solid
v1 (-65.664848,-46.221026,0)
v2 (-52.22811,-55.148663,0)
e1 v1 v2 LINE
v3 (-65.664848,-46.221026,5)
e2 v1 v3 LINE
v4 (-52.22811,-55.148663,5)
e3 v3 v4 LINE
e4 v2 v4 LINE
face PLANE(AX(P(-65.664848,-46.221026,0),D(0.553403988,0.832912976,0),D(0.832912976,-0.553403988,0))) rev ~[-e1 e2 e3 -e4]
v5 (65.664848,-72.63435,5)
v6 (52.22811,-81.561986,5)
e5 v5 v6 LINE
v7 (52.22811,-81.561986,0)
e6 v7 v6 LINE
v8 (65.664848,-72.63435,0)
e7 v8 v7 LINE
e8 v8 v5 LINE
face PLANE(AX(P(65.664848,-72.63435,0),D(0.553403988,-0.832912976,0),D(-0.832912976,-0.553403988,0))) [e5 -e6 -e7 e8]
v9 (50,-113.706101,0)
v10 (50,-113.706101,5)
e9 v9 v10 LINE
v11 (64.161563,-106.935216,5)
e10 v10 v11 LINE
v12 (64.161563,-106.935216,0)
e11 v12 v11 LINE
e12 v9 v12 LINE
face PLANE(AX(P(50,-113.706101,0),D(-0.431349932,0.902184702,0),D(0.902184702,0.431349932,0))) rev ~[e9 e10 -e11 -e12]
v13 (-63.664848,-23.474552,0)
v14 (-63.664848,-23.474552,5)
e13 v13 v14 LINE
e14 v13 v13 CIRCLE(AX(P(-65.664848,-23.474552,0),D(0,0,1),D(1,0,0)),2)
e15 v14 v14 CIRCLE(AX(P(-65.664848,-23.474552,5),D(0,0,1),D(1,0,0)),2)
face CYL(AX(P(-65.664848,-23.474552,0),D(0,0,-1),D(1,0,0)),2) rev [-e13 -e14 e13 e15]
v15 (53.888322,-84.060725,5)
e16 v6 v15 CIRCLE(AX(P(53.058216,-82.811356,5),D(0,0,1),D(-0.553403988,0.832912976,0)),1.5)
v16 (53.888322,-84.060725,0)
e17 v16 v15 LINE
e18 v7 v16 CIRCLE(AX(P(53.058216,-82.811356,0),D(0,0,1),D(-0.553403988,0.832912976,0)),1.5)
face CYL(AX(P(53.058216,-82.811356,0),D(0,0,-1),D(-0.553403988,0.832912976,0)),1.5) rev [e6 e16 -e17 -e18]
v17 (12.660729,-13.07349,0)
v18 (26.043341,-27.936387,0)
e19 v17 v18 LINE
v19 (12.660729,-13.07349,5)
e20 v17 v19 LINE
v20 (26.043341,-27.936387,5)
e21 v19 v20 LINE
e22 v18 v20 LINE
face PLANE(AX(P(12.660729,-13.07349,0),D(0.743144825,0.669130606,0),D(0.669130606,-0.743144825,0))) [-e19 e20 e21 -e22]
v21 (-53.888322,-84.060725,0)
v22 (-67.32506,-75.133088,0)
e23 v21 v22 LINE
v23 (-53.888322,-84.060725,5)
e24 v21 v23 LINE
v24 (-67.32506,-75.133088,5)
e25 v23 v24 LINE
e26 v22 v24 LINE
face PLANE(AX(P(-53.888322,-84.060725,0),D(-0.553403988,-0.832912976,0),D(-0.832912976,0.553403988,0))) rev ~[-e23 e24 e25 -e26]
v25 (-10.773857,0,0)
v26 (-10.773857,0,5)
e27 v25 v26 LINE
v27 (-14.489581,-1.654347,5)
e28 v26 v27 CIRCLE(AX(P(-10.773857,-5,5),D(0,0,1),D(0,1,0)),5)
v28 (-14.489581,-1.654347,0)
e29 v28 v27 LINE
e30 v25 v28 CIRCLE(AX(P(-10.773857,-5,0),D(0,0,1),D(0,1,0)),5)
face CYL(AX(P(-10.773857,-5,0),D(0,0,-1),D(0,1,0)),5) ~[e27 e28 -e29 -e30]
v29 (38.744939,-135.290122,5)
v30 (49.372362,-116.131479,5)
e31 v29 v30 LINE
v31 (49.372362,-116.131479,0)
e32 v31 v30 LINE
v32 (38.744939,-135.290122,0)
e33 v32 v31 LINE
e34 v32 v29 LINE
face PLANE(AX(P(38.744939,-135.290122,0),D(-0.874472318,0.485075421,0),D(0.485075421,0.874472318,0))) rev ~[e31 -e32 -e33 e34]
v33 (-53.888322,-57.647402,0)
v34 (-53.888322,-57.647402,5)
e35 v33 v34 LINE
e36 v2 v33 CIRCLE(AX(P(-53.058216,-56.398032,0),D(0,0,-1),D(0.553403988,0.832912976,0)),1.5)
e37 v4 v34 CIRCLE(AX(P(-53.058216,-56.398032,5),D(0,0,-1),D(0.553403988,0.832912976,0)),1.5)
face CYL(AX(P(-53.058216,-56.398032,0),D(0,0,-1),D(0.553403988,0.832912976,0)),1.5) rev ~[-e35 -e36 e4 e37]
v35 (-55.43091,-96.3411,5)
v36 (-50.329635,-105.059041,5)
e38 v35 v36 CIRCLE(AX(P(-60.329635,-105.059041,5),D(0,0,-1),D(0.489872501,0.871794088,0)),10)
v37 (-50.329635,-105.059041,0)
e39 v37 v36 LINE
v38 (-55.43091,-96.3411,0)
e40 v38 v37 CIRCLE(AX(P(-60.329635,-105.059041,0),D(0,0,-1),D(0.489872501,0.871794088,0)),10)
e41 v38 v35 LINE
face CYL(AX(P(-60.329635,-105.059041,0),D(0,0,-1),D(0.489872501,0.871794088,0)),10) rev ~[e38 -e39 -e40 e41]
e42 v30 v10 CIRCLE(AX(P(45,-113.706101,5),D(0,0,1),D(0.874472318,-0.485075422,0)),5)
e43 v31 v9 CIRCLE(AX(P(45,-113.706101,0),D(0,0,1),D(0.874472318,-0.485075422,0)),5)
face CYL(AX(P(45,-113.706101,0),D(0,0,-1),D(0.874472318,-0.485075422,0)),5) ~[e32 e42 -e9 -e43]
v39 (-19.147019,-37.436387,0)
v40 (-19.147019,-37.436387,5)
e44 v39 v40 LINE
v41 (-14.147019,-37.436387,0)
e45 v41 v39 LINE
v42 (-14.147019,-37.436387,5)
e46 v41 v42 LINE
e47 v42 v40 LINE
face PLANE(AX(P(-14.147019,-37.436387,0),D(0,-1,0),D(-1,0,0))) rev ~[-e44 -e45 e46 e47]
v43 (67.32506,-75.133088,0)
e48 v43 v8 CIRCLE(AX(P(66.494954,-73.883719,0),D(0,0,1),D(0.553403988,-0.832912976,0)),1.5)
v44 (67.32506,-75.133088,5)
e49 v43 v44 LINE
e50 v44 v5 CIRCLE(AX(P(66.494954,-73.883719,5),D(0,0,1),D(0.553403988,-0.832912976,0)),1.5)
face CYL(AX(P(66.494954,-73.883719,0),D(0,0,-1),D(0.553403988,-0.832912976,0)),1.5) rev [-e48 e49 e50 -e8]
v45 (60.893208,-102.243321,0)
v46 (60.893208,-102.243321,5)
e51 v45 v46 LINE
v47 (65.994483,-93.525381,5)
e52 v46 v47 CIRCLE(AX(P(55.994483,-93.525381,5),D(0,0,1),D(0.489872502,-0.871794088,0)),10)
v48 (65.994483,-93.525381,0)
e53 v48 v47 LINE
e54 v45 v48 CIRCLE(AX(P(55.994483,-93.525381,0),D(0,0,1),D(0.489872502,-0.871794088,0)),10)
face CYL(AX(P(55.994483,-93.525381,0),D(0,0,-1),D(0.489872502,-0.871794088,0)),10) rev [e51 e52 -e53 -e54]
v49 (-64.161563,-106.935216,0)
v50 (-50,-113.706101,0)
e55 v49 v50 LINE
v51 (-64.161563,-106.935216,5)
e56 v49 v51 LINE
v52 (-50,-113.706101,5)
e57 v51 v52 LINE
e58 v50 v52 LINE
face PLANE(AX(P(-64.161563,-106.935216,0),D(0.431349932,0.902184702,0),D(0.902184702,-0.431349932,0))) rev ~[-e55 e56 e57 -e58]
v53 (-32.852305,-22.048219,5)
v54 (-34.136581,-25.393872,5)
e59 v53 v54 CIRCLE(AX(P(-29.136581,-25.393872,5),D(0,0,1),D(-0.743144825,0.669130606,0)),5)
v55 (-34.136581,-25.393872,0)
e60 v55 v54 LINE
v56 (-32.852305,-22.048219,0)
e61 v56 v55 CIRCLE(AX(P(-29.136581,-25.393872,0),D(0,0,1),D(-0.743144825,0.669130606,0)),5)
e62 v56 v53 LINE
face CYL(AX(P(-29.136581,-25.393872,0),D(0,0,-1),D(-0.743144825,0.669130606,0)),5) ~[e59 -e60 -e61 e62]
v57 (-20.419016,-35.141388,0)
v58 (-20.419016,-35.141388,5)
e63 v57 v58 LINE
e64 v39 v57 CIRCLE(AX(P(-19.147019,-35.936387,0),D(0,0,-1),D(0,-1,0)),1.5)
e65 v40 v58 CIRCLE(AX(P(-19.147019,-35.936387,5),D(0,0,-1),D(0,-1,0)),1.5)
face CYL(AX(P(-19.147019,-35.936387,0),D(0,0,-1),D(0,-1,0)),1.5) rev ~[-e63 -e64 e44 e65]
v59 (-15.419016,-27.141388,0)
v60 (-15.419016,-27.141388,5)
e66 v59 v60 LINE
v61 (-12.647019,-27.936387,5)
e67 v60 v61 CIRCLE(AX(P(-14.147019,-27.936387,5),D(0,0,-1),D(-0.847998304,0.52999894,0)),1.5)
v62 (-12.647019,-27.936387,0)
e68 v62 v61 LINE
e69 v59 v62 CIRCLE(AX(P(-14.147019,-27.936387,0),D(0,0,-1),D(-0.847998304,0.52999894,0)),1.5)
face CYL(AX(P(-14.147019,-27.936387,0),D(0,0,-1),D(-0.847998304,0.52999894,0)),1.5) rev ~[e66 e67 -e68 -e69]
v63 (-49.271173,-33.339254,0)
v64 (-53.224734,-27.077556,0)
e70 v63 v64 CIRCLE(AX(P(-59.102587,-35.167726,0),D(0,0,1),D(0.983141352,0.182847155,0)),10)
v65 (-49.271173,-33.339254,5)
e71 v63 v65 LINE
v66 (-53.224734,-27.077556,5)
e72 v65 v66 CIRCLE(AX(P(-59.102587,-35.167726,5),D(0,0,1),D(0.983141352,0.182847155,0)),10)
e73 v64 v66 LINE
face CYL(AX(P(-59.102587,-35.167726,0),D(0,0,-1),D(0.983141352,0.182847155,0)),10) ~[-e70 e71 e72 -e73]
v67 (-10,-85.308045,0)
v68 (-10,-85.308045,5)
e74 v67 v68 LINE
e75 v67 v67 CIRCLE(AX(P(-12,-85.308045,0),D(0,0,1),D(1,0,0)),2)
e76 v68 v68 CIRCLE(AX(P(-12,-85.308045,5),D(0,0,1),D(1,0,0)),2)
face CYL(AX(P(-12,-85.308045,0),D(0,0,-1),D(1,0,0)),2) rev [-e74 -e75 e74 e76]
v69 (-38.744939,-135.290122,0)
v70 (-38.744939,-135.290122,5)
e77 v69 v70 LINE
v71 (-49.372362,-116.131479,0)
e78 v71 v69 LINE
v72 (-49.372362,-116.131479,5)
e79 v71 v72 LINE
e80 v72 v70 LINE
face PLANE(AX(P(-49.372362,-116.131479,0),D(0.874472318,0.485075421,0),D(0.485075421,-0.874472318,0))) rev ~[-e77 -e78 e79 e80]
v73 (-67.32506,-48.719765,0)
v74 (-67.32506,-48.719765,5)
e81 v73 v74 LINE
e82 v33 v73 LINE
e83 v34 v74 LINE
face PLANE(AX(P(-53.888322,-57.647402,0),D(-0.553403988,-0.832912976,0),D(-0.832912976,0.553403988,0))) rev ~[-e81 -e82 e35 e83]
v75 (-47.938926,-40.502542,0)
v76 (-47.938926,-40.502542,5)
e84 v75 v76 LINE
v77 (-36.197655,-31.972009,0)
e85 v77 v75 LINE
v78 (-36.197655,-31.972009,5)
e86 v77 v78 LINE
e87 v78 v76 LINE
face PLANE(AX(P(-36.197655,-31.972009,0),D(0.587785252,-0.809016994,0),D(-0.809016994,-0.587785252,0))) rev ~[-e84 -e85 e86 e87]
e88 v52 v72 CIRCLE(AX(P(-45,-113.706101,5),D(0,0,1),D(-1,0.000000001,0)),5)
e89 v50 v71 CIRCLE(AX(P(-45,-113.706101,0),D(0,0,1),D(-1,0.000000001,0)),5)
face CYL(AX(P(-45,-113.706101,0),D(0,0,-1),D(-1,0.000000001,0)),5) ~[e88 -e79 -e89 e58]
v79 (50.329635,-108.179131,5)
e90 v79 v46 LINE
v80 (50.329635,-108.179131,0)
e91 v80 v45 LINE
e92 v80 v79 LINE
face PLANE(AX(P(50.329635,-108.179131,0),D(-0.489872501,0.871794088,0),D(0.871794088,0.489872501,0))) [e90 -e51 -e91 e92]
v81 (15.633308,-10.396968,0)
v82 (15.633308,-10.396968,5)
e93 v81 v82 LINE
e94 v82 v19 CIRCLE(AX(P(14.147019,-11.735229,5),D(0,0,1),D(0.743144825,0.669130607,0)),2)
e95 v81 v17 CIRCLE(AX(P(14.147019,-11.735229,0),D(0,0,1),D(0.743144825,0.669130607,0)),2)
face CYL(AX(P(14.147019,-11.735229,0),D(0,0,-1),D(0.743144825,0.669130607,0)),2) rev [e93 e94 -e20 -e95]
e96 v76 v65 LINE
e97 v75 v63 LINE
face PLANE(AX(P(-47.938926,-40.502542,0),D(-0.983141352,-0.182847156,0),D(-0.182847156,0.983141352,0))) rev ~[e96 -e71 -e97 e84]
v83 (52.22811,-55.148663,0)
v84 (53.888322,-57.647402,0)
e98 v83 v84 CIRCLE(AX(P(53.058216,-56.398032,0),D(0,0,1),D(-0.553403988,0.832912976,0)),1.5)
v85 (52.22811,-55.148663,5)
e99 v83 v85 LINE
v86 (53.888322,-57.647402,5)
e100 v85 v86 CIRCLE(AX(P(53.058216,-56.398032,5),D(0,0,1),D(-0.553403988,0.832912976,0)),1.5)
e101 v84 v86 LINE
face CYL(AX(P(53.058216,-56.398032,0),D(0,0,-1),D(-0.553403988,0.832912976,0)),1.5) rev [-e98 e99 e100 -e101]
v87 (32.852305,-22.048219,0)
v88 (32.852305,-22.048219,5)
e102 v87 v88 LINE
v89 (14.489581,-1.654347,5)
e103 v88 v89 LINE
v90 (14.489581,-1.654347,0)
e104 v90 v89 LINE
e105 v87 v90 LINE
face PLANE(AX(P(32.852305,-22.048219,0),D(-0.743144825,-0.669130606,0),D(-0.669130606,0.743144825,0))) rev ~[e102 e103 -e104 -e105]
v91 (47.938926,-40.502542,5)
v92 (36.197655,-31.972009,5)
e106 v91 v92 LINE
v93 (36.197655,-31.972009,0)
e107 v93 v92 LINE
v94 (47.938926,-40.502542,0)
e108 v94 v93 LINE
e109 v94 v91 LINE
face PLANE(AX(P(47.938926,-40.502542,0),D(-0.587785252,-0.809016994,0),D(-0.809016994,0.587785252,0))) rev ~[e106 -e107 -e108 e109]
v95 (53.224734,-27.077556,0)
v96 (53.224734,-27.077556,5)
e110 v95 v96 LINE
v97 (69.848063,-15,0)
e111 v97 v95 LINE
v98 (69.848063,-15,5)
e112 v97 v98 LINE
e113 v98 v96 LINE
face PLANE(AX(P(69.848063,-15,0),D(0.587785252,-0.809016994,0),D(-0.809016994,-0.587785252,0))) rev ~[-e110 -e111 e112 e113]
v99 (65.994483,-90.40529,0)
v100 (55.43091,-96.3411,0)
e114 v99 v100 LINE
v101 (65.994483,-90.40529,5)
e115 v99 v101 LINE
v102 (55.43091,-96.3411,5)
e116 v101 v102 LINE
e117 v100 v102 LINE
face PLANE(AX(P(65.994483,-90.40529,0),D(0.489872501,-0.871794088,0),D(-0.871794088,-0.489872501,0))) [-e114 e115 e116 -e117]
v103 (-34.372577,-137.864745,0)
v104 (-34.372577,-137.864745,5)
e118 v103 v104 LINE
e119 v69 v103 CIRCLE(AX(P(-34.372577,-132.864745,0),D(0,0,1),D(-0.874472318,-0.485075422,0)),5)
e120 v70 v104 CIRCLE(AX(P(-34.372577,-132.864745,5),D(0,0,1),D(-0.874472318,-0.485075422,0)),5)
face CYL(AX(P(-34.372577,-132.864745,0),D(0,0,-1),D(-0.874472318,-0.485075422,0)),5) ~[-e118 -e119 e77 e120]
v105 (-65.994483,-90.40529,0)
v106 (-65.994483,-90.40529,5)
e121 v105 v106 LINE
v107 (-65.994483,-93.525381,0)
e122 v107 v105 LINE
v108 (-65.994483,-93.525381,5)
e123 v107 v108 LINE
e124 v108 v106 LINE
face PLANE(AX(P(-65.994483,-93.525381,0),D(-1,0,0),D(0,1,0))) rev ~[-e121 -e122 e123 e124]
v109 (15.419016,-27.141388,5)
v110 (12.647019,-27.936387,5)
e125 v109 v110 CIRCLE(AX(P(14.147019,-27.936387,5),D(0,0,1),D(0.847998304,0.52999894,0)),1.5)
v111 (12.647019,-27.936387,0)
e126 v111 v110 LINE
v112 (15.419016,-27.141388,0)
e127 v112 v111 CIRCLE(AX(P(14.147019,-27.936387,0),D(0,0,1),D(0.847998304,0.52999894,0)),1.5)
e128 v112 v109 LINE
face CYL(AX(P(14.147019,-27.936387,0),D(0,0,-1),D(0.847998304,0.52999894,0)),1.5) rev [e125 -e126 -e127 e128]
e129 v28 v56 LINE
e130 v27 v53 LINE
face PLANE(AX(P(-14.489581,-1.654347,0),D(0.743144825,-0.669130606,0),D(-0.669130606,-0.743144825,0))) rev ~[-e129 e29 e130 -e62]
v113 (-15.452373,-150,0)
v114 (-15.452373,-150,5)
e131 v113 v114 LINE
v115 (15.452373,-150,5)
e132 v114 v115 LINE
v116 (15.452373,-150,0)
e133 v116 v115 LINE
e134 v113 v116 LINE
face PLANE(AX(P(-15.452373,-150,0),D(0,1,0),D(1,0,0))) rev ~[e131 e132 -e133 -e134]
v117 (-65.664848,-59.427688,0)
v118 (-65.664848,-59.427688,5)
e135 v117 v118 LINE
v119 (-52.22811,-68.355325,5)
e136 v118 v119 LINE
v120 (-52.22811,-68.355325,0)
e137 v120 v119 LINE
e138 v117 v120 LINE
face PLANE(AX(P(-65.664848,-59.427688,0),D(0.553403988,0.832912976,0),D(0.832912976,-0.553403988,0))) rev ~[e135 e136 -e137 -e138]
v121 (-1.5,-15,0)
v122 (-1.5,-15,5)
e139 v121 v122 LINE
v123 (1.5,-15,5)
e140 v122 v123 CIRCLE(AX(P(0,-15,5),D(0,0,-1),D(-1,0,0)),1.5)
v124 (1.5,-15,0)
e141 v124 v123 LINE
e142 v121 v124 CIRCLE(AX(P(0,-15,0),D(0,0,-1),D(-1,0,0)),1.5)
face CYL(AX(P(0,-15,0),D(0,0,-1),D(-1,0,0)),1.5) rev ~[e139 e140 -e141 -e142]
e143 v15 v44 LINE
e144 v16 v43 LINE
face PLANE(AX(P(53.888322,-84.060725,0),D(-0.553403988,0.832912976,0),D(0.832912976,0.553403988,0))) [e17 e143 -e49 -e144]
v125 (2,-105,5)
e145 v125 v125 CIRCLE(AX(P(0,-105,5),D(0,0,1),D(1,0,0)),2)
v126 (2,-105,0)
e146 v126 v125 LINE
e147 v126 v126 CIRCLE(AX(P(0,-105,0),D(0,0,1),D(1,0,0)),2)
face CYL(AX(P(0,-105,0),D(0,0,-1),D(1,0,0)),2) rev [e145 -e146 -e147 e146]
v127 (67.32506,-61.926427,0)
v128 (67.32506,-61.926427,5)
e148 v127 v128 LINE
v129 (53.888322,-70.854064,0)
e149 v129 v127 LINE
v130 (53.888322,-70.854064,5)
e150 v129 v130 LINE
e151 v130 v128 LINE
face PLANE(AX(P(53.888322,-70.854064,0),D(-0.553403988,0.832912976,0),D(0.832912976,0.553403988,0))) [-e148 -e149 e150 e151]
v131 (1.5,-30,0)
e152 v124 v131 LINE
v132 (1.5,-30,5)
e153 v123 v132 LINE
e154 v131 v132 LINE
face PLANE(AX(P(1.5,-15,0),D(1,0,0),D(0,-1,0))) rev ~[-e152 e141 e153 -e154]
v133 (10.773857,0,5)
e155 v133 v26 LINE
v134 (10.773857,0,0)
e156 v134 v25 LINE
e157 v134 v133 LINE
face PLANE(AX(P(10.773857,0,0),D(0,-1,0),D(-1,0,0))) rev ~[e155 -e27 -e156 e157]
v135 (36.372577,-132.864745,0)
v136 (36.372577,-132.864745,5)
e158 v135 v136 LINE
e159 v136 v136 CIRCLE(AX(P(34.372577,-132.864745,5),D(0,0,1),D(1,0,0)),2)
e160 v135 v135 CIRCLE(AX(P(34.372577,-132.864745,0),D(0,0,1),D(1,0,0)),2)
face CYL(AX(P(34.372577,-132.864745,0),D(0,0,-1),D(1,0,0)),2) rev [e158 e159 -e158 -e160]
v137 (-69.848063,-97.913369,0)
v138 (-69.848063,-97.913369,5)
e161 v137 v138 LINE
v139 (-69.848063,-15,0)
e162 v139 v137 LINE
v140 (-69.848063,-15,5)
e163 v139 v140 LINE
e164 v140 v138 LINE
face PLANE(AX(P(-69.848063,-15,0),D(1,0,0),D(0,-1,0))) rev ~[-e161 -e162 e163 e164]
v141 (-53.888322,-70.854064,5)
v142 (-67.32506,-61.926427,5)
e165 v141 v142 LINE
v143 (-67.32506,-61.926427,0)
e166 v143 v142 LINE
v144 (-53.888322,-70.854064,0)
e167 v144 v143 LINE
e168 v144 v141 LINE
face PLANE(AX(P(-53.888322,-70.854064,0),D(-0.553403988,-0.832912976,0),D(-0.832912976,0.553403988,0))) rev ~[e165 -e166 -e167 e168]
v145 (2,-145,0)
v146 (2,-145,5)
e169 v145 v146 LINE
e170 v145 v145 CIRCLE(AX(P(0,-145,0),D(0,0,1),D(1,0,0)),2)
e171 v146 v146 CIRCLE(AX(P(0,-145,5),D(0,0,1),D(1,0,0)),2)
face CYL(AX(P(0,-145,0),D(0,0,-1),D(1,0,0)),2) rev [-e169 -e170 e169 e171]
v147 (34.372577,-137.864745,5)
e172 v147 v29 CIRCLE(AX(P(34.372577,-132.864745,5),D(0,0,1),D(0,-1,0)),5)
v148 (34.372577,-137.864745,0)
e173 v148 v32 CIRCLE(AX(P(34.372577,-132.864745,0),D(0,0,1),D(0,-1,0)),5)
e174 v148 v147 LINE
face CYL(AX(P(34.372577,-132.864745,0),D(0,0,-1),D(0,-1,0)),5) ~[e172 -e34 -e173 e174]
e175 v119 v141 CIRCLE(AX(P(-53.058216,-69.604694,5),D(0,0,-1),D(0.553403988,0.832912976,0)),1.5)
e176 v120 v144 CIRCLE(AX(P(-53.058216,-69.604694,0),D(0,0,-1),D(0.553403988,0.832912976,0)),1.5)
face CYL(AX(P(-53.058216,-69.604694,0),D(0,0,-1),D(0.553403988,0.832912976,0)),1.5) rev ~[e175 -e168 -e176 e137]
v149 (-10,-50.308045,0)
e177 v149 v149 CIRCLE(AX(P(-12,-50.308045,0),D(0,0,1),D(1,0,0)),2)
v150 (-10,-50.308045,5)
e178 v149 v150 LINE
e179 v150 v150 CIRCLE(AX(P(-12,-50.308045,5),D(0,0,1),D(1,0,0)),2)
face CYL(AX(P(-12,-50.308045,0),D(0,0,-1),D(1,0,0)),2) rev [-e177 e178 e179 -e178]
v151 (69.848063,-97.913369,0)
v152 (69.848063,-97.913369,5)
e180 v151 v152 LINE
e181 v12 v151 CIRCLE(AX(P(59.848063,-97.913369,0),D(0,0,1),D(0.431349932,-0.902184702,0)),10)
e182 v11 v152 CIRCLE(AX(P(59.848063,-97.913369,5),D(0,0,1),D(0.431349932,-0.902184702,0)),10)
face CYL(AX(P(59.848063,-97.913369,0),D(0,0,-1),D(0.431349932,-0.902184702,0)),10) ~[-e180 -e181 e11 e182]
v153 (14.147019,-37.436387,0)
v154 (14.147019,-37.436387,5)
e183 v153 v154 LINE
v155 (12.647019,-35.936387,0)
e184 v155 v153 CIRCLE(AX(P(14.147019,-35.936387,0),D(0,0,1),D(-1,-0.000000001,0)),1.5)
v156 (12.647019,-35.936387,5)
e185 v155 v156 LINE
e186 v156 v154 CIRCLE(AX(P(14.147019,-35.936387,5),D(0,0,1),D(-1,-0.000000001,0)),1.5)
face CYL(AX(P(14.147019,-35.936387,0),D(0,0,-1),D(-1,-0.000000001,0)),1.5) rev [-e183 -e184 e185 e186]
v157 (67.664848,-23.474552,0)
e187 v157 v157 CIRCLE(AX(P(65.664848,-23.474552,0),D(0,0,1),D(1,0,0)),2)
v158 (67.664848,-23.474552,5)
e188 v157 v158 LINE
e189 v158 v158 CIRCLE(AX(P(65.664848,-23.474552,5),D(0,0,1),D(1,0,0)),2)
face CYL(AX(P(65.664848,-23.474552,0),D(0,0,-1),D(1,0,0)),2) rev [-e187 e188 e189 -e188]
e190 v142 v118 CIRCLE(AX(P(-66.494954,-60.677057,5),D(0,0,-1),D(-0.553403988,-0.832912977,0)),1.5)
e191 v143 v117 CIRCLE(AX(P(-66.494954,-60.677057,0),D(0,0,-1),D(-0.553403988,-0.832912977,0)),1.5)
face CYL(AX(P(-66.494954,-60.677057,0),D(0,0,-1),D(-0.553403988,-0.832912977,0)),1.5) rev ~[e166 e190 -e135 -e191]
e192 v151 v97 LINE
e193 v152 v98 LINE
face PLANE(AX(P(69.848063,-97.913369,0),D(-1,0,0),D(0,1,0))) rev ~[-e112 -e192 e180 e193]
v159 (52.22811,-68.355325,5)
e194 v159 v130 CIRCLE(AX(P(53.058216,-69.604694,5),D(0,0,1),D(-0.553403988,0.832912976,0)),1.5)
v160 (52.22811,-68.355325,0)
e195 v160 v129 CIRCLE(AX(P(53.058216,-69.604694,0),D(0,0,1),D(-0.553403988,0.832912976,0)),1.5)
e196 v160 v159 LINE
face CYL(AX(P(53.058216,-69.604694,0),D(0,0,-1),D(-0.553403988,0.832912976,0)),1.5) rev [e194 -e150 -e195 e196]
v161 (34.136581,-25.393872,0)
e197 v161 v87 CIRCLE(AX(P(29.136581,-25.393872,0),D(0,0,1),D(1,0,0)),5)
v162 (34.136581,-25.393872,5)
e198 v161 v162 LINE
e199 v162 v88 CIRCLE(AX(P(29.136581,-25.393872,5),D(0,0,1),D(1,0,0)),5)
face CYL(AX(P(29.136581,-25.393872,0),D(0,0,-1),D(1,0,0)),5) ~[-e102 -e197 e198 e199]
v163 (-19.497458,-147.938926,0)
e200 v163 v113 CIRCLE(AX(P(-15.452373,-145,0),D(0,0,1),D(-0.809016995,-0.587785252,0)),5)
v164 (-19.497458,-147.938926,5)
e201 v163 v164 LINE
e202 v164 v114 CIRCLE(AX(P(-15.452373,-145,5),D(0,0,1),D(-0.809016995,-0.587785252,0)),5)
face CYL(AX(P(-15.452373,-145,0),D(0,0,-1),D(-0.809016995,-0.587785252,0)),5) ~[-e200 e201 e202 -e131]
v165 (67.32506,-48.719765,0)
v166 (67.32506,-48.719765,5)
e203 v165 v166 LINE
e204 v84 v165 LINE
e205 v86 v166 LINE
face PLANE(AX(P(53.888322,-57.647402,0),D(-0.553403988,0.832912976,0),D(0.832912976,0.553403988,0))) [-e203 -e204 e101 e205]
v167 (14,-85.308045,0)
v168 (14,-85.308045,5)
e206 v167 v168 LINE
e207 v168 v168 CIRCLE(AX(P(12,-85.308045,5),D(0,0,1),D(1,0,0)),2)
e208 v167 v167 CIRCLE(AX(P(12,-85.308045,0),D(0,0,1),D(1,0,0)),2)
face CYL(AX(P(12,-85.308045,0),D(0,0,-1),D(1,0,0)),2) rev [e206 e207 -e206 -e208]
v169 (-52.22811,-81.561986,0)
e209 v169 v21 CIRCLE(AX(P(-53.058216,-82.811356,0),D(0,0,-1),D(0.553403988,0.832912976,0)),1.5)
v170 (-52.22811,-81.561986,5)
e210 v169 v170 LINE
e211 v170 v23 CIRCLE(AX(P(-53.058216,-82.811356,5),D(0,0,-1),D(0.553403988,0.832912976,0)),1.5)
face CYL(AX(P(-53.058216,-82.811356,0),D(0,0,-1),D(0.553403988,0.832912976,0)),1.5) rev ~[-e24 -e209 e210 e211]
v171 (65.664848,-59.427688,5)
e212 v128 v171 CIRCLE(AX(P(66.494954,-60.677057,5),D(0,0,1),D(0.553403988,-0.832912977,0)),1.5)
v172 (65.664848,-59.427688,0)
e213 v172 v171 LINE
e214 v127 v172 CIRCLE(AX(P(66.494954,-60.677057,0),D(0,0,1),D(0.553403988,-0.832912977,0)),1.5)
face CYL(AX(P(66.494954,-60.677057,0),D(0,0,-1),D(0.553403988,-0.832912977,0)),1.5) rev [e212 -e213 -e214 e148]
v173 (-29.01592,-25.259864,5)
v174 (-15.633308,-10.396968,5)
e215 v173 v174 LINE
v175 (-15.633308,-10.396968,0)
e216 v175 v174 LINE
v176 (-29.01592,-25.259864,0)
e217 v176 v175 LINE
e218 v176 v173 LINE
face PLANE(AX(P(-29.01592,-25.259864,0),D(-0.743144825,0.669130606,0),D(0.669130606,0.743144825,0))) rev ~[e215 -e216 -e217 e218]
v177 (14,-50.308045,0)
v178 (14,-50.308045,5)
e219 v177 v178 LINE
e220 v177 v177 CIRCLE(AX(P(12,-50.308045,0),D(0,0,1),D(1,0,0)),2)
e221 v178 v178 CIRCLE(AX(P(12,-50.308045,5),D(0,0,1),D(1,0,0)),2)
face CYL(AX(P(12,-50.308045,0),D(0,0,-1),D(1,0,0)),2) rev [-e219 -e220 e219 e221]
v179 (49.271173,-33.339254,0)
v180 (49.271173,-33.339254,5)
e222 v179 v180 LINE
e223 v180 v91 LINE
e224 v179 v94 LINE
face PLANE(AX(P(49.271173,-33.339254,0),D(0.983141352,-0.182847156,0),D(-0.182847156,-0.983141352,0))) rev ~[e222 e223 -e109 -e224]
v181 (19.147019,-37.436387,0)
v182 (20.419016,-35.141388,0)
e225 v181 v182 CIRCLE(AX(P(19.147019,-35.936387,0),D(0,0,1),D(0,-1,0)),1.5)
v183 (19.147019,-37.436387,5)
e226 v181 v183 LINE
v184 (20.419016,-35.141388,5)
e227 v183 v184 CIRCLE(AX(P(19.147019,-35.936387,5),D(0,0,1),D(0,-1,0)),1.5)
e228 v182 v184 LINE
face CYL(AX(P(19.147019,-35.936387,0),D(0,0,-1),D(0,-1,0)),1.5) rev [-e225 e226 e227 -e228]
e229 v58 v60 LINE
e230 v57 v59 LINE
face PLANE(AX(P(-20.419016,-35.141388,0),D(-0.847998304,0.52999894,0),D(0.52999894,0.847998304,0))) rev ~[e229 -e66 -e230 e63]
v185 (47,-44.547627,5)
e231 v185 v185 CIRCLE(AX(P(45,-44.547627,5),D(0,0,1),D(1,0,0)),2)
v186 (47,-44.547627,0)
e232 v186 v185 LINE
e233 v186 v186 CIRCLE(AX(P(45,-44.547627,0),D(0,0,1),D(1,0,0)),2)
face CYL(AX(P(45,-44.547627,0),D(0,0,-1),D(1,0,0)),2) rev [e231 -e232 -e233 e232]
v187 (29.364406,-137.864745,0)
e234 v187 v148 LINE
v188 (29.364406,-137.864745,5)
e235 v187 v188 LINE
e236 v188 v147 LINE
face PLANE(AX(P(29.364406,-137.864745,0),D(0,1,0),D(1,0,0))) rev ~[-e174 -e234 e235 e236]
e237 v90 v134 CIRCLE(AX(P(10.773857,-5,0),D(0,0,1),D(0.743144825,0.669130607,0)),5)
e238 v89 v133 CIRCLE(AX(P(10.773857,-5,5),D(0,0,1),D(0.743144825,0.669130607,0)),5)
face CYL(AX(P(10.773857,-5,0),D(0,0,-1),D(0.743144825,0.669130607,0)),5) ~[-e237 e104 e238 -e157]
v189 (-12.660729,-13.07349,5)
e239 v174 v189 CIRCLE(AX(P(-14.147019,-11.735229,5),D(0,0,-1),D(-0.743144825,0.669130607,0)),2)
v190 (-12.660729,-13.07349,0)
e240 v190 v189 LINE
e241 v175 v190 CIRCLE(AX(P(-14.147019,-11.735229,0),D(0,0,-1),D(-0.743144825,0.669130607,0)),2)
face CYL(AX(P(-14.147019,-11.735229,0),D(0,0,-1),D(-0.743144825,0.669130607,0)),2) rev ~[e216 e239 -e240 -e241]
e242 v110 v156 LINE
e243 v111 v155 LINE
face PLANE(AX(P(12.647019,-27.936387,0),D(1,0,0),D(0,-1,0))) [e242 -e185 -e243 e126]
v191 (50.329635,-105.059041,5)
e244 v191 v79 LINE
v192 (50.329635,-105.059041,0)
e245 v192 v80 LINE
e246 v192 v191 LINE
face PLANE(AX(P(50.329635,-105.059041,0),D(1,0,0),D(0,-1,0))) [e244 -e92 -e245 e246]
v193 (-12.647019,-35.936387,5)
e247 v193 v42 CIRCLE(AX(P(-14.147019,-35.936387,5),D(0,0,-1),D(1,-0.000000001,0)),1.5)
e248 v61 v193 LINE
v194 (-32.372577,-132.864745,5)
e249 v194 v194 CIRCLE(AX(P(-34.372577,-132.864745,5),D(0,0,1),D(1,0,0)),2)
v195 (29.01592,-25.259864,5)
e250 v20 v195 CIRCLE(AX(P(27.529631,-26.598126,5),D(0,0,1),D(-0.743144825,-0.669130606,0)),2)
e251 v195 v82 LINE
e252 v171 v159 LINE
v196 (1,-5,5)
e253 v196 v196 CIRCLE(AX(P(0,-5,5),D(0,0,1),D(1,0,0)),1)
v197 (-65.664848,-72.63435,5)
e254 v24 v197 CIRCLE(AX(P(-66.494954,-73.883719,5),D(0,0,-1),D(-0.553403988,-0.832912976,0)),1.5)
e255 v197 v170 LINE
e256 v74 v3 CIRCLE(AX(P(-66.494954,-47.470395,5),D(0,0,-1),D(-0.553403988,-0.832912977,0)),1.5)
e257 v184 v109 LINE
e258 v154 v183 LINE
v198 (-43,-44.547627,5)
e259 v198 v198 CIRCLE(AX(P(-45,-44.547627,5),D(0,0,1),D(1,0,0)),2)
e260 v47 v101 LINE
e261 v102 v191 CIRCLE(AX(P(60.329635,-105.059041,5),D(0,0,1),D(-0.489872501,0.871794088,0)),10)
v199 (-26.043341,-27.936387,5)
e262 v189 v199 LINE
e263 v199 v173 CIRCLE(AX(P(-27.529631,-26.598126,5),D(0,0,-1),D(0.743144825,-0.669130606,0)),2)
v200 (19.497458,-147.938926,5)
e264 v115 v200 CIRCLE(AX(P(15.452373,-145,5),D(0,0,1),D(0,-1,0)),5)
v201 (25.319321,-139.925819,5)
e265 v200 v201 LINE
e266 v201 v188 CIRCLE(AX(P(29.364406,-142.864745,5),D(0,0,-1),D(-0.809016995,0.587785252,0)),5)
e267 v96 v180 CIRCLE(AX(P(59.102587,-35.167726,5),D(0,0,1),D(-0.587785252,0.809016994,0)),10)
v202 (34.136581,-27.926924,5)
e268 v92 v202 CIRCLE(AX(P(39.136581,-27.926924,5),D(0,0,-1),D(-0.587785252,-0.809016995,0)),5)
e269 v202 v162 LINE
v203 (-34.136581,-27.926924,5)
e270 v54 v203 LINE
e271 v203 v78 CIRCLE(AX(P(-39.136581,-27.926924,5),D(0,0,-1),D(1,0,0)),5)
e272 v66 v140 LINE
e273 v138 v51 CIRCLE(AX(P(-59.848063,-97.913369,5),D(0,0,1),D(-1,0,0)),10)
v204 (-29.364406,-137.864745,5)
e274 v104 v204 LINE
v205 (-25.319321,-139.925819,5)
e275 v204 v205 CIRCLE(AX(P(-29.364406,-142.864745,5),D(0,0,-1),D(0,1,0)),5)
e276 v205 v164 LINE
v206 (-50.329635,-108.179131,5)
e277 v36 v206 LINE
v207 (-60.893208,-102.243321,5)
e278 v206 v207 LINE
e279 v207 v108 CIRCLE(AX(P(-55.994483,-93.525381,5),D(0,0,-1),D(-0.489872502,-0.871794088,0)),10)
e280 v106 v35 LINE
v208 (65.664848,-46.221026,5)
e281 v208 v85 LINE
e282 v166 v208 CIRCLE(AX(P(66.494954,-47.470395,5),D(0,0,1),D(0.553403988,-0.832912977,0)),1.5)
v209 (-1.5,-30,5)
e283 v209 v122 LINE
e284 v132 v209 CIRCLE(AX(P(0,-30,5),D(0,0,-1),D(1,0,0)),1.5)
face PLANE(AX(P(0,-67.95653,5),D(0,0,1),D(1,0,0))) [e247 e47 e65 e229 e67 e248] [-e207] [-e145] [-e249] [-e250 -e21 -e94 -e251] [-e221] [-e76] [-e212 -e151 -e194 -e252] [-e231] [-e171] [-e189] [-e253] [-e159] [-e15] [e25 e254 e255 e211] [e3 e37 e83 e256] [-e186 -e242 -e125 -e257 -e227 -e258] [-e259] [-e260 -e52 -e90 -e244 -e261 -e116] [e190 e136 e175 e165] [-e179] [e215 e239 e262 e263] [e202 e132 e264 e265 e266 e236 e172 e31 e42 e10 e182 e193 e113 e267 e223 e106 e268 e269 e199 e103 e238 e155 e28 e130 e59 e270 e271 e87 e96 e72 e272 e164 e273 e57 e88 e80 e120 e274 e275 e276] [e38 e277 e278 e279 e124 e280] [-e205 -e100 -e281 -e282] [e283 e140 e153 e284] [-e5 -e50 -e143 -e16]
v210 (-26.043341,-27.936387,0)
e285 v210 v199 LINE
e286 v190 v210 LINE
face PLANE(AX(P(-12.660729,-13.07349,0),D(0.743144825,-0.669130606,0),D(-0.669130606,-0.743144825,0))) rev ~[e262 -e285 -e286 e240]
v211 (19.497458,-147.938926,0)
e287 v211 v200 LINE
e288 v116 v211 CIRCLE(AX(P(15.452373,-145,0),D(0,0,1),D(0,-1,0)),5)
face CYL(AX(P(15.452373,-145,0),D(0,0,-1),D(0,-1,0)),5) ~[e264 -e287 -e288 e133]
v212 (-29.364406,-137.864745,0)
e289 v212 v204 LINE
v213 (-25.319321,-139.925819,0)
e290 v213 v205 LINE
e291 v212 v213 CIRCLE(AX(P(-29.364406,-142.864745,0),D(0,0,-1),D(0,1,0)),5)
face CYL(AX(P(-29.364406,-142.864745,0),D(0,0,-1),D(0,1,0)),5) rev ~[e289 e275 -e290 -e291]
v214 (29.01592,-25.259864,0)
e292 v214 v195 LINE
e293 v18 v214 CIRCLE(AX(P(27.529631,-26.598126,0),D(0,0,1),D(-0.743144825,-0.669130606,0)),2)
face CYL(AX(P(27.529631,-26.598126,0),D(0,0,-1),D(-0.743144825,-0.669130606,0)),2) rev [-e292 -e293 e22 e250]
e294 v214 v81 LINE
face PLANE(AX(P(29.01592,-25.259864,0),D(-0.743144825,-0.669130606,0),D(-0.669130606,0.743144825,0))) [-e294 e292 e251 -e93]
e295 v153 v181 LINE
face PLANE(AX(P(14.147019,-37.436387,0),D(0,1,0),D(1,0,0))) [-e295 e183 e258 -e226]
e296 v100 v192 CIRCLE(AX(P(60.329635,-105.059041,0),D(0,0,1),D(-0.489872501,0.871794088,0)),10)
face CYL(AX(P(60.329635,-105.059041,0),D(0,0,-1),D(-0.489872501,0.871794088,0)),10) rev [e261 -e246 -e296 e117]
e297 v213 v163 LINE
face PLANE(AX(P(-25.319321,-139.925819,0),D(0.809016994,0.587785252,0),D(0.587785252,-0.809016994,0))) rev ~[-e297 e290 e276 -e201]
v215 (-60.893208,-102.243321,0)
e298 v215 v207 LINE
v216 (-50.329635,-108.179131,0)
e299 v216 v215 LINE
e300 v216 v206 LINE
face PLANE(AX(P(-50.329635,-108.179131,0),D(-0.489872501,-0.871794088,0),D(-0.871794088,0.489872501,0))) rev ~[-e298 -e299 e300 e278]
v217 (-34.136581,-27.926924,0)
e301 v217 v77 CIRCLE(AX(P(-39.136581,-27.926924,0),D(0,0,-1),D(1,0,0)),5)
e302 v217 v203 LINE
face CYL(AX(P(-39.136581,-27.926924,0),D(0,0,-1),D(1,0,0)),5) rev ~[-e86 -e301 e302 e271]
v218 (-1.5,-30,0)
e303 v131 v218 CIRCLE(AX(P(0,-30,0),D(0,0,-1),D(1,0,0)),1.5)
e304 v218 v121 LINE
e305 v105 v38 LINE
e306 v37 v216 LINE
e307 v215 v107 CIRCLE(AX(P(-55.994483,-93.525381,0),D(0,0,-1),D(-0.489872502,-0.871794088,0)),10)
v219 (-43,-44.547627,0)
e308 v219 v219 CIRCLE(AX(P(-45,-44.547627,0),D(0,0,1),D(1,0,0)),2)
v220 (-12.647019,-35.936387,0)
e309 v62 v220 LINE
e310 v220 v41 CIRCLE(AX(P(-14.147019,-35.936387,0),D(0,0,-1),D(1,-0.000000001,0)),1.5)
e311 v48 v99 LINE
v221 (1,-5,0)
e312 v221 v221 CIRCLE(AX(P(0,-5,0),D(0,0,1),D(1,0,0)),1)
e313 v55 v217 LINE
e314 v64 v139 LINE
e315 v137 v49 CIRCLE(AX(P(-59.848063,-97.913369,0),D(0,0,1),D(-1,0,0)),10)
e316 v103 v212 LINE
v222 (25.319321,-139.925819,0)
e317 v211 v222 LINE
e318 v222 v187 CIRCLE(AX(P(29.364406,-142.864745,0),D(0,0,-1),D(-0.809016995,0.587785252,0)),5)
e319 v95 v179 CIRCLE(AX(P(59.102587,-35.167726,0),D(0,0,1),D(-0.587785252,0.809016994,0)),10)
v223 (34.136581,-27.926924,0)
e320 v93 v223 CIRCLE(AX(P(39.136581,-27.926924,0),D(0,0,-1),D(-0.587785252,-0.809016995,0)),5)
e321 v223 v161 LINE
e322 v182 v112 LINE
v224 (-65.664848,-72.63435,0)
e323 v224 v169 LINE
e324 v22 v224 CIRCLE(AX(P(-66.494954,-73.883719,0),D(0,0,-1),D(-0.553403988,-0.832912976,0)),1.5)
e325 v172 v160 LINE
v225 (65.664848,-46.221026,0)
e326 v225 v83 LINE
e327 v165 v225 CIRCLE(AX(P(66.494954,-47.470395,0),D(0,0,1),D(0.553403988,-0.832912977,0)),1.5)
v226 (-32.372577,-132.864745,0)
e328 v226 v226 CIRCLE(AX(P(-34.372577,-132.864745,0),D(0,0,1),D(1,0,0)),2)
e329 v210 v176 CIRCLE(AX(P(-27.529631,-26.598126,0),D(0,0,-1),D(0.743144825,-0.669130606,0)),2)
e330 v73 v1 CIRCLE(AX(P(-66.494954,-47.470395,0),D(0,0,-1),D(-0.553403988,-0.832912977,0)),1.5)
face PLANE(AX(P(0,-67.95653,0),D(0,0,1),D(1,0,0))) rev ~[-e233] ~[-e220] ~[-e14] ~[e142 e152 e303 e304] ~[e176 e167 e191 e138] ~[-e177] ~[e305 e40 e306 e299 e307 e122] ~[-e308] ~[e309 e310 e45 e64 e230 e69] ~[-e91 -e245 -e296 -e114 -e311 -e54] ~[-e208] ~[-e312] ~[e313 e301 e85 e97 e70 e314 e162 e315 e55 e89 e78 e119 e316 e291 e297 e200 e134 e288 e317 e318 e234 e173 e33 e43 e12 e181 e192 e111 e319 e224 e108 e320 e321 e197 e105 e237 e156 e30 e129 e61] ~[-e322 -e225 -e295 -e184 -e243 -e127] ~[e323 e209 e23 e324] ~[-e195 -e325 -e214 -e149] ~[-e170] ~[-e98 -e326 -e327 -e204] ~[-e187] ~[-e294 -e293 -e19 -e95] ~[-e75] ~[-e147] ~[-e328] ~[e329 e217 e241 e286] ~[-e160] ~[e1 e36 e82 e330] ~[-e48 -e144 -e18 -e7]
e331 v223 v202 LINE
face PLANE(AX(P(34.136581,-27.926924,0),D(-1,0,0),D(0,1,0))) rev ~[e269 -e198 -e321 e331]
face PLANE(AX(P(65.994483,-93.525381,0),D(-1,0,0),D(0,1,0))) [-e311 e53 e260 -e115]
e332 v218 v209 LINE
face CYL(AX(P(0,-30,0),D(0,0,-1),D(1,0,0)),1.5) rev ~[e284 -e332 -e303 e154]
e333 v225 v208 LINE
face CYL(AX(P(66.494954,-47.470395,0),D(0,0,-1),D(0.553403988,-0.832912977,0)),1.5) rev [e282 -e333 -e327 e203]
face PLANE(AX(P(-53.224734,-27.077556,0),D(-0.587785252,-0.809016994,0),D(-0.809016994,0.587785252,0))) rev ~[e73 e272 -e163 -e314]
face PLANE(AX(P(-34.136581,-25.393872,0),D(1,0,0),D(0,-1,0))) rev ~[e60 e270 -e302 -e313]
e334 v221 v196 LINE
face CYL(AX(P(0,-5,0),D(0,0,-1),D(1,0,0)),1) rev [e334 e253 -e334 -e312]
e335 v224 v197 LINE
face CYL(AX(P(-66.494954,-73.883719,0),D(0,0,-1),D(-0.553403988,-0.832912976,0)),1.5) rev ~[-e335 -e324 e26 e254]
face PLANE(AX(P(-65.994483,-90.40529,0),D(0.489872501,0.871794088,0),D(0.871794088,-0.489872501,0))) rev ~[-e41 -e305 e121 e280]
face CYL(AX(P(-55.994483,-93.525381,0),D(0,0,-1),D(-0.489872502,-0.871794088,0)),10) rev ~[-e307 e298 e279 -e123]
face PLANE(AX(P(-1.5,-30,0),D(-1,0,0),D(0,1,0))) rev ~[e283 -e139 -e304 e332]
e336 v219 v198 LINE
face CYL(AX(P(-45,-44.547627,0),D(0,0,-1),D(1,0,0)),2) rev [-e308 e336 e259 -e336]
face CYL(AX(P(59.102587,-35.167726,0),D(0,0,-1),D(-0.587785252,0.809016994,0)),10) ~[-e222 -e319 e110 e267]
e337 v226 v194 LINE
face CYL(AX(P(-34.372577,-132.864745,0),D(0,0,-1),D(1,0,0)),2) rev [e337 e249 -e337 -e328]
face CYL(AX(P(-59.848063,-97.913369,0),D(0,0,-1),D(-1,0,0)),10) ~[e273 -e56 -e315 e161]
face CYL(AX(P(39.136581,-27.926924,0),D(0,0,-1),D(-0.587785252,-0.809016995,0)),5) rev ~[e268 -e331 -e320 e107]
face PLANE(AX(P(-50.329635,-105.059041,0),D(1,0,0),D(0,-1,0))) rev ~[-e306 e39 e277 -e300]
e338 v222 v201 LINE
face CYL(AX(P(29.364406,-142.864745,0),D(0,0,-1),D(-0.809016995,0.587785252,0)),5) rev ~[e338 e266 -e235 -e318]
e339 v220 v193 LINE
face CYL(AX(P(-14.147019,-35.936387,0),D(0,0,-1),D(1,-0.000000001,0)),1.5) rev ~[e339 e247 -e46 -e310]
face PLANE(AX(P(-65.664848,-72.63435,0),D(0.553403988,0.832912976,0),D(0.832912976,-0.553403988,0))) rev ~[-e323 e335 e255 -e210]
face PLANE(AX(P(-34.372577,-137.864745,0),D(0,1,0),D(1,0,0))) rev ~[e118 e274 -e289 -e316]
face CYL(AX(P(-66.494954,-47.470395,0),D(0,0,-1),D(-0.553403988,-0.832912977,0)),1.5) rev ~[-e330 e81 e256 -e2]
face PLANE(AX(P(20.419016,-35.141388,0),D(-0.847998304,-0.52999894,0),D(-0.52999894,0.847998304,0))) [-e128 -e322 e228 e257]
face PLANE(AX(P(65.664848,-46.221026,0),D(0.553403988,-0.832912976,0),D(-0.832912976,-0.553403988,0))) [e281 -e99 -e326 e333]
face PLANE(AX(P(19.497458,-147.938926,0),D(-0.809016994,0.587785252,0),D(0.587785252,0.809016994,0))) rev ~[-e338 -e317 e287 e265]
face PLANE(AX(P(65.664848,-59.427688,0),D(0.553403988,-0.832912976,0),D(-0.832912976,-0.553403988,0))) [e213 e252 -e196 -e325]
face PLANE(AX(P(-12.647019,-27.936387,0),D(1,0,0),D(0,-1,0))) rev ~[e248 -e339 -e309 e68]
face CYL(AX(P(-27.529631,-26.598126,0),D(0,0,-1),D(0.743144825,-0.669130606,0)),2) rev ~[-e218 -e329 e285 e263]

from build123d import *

# Parameters (mm, degrees)
SKETCH2_R           = 1
SKETCH2_R_2         = 2
BOSS_EXTRUDE2_DEPTH = 5


with BuildPart() as part:
    # Sketch2 → Boss-Extrude2 (new body)
    with BuildSketch(Plane.XY):
        with BuildLine():
            Line((10.773856573, 0), (-10.773856573, 0))
            ThreePointArc((-10.773856573, 0), (-12.807539789, -0.432272712), (-14.489580701, -1.654346968))
            Line((-14.489580701, -1.654346968), (-32.85230533, -22.048218747))
            ThreePointArc((-32.85230533, -22.048218747), (-33.804483335, -23.602032031), (-34.136581202, -25.393871779))
            Line((-34.136581202, -25.393871779), (-34.136581202, -27.926924356))
            ThreePointArc((-34.136581202, -27.926924356), (-34.681548581, -30.196876855), (-36.197654941, -31.972009328))
            Line((-36.197654941, -31.972009328), (-47.938926261, -40.502542276))
            Line((-47.938926261, -40.502542276), (-49.271172991, -33.33925419))
            ThreePointArc((-49.271172991, -33.33925419), (-50.646968461, -29.828950283), (-53.224733986, -27.077555801))
            Line((-53.224733986, -27.077555801), (-69.848063434, -15))
            Line((-69.848063434, -15), (-69.848063434, -97.913369077))
            ThreePointArc((-69.848063434, -97.913369077), (-68.307820915, -103.245582818), (-64.161562759, -106.935216093))
            Line((-64.161562759, -106.935216093), (-50, -113.7061014))
            ThreePointArc((-50, -113.7061014), (-49.840547901, -114.95873703), (-49.372361591, -116.131478508))
            Line((-49.372361591, -116.131478508), (-38.744938669, -135.290122192))
            ThreePointArc((-38.744938669, -135.290122192), (-36.909614174, -137.173276478), (-34.372577077, -137.864745084))
            Line((-34.372577077, -137.864745084), (-29.364406032, -137.864745084))
            ThreePointArc((-29.364406032, -137.864745084), (-27.094453533, -138.409712463), (-25.31932106, -139.925818823))
            Line((-25.31932106, -139.925818823), (-19.497457724, -147.938926261))
            ThreePointArc((-19.497457724, -147.938926261), (-17.722325251, -149.455032621), (-15.452372753, -150))
            Line((-15.452372753, -150), (15.452372753, -150))
            ThreePointArc((15.452372753, -150), (17.722325251, -149.455032621), (19.497457724, -147.938926261))
            Line((19.497457724, -147.938926261), (25.31932106, -139.925818823))
            ThreePointArc((25.31932106, -139.925818823), (27.094453533, -138.409712463), (29.364406032, -137.864745084))
            Line((29.364406032, -137.864745084), (34.372577077, -137.864745084))
            ThreePointArc((34.372577077, -137.864745084), (36.909614174, -137.173276478), (38.744938669, -135.290122192))
            Line((38.744938669, -135.290122192), (49.372361591, -116.131478508))
            ThreePointArc((49.372361591, -116.131478508), (49.840547901, -114.95873703), (50, -113.7061014))
            Line((50, -113.7061014), (64.161562759, -106.935216093))
            ThreePointArc((64.161562759, -106.935216093), (68.307820915, -103.245582818), (69.848063434, -97.913369077))
            Line((69.848063434, -97.913369077), (69.848063434, -15))
            Line((69.848063434, -15), (53.224733986, -27.077555801))
            ThreePointArc((53.224733986, -27.077555801), (50.646968461, -29.828950283), (49.271172991, -33.33925419))
            Line((49.271172991, -33.33925419), (47.938926261, -40.502542276))
            Line((47.938926261, -40.502542276), (36.197654941, -31.972009328))
            ThreePointArc((36.197654941, -31.972009328), (34.681548581, -30.196876855), (34.136581202, -27.926924356))
            Line((34.136581202, -27.926924356), (34.136581202, -25.393871779))
            ThreePointArc((34.136581202, -25.393871779), (33.804483335, -23.602032031), (32.85230533, -22.048218747))
            Line((32.85230533, -22.048218747), (14.489580701, -1.654346968))
            ThreePointArc((14.489580701, -1.654346968), (12.807539789, -0.432272712), (10.773856573, 0))
        make_face()
        with Locations((0, -5)):
            Circle(SKETCH2_R, mode=Mode.SUBTRACT)
        with Locations((0, -145)):
            Circle(SKETCH2_R_2, mode=Mode.SUBTRACT)
        with Locations((0, -105)):
            Circle(SKETCH2_R_2, mode=Mode.SUBTRACT)
        with Locations((-12, -50.308044585)):
            Circle(SKETCH2_R_2, mode=Mode.SUBTRACT)
        with Locations((12, -50.308044585)):
            Circle(SKETCH2_R_2, mode=Mode.SUBTRACT)
        with Locations((12, -85.308044585)):
            Circle(SKETCH2_R_2, mode=Mode.SUBTRACT)
        with Locations((-12, -85.308044585)):
            Circle(SKETCH2_R_2, mode=Mode.SUBTRACT)
        with Locations((-34.372577077, -132.864745084)):
            Circle(SKETCH2_R_2, mode=Mode.SUBTRACT)
        with Locations((34.372577077, -132.864745084)):
            Circle(SKETCH2_R_2, mode=Mode.SUBTRACT)
        with Locations((-45, -44.547627247)):
            Circle(SKETCH2_R_2, mode=Mode.SUBTRACT)
        with Locations((45, -44.547627247)):
            Circle(SKETCH2_R_2, mode=Mode.SUBTRACT)
        with Locations((-65.664848414, -23.474551604)):
            Circle(SKETCH2_R_2, mode=Mode.SUBTRACT)
        with Locations((65.664848414, -23.474551604)):
            Circle(SKETCH2_R_2, mode=Mode.SUBTRACT)
        with BuildLine():
            Line((-12.660728973, -13.073490301), (-26.043341101, -27.93638681))
            ThreePointArc((-26.043341101, -27.93638681), (-28.867891964, -28.084415248), (-29.015920402, -25.259864385))
            Line((-29.015920402, -25.259864385), (-15.633308275, -10.396967875))
            ThreePointArc((-15.633308275, -10.396967875), (-12.808757412, -10.248939437), (-12.660728973, -13.073490301))
        make_face(mode=Mode.SUBTRACT)
        with BuildLine():
            Line((14.147018624, -37.43638681), (19.147018624, -37.43638681))
            ThreePointArc((19.147018624, -37.43638681), (20.458982346, -36.663539609), (20.41901608, -35.1413884))
            Line((20.41901608, -35.1413884), (15.41901608, -27.1413884))
            ThreePointArc((15.41901608, -27.1413884), (13.733494855, -26.494513691), (12.647018624, -27.93638681))
            Line((12.647018624, -27.93638681), (12.647018624, -35.93638681))
            ThreePointArc((12.647018624, -35.93638681), (13.086358453, -36.997046982), (14.147018624, -37.43638681))
        make_face(mode=Mode.SUBTRACT)
        with BuildLine():
            Line((-14.147018624, -37.43638681), (-19.147018624, -37.43638681))
            ThreePointArc((-19.147018624, -37.43638681), (-20.458982346, -36.663539609), (-20.41901608, -35.1413884))
            Line((-20.41901608, -35.1413884), (-15.41901608, -27.1413884))
            ThreePointArc((-15.41901608, -27.1413884), (-13.733494855, -26.494513691), (-12.647018624, -27.93638681))
            Line((-12.647018624, -27.93638681), (-12.647018624, -35.93638681))
            ThreePointArc((-12.647018624, -35.93638681), (-13.086358453, -36.997046982), (-14.147018624, -37.43638681))
        make_face(mode=Mode.SUBTRACT)
        with BuildLine():
            Line((12.660728973, -13.073490301), (26.043341101, -27.93638681))
            ThreePointArc((26.043341101, -27.93638681), (28.867891964, -28.084415248), (29.015920402, -25.259864385))
            Line((29.015920402, -25.259864385), (15.633308275, -10.396967875))
            ThreePointArc((15.633308275, -10.396967875), (12.808757412, -10.248939437), (12.660728973, -13.073490301))
        make_face(mode=Mode.SUBTRACT)
        with BuildLine():
            Line((1.5, -15), (1.5, -30))
            ThreePointArc((1.5, -30), (0, -31.5), (-1.5, -30))
            Line((-1.5, -30), (-1.5, -15))
            ThreePointArc((-1.5, -15), (0, -13.5), (1.5, -15))
        make_face(mode=Mode.SUBTRACT)
        with BuildLine():
            Line((-65.664848414, -46.221025879), (-52.228109947, -55.148662815))
            ThreePointArc((-52.228109947, -55.148662815), (-51.808846465, -57.228138261), (-53.888321911, -57.647401744))
            Line((-53.888321911, -57.647401744), (-67.325060378, -48.719764808))
            ThreePointArc((-67.325060378, -48.719764808), (-67.744323861, -46.640289361), (-65.664848414, -46.221025879))
        make_face(mode=Mode.SUBTRACT)
        with BuildLine():
            Line((-65.664848414, -59.427687694), (-52.228109947, -68.35532463))
            ThreePointArc((-52.228109947, -68.35532463), (-51.808846465, -70.434800076), (-53.888321911, -70.854063559))
            Line((-53.888321911, -70.854063559), (-67.325060378, -61.926426623))
            ThreePointArc((-67.325060378, -61.926426623), (-67.744323861, -59.846951176), (-65.664848414, -59.427687694))
        make_face(mode=Mode.SUBTRACT)
        with BuildLine():
            Line((-65.664848414, -72.634349509), (-52.228109947, -81.561986445))
            ThreePointArc((-52.228109947, -81.561986445), (-51.808846465, -83.641461891), (-53.888321911, -84.060725374))
            Line((-53.888321911, -84.060725374), (-67.325060378, -75.133088438))
            ThreePointArc((-67.325060378, -75.133088438), (-67.744323861, -73.053612992), (-65.664848414, -72.634349509))
        make_face(mode=Mode.SUBTRACT)
        with BuildLine():
            Line((-50.329634754, -108.179131466), (-60.893208182, -102.243321386))
            ThreePointArc((-60.893208182, -102.243321386), (-64.625452121, -98.575764145), (-65.994483169, -93.525380502))
            Line((-65.994483169, -93.525380502), (-65.994483169, -90.405290348))
            Line((-65.994483169, -90.405290348), (-55.430909741, -96.341100429))
            ThreePointArc((-55.430909741, -96.341100429), (-51.698665801, -100.00865767), (-50.329634754, -105.059041312))
            Line((-50.329634754, -105.059041312), (-50.329634754, -108.179131466))
        make_face(mode=Mode.SUBTRACT)
        with BuildLine():
            Line((65.664848414, -46.221025879), (52.228109947, -55.148662815))
            ThreePointArc((52.228109947, -55.148662815), (51.808846465, -57.228138261), (53.888321911, -57.647401744))
            Line((53.888321911, -57.647401744), (67.325060378, -48.719764808))
            ThreePointArc((67.325060378, -48.719764808), (67.744323861, -46.640289361), (65.664848414, -46.221025879))
        make_face(mode=Mode.SUBTRACT)
        with BuildLine():
            Line((65.664848414, -59.427687694), (52.228109947, -68.35532463))
            ThreePointArc((52.228109947, -68.35532463), (51.808846465, -70.434800076), (53.888321911, -70.854063559))
            Line((53.888321911, -70.854063559), (67.325060378, -61.926426623))
            ThreePointArc((67.325060378, -61.926426623), (67.744323861, -59.846951176), (65.664848414, -59.427687694))
        make_face(mode=Mode.SUBTRACT)
        with BuildLine():
            Line((65.664848414, -72.634349509), (52.228109947, -81.561986445))
            ThreePointArc((52.228109947, -81.561986445), (51.808846465, -83.641461891), (53.888321911, -84.060725374))
            Line((53.888321911, -84.060725374), (67.325060378, -75.133088438))
            ThreePointArc((67.325060378, -75.133088438), (67.744323861, -73.053612992), (65.664848414, -72.634349509))
        make_face(mode=Mode.SUBTRACT)
        with BuildLine():
            Line((65.994483169, -90.405290348), (55.430909741, -96.341100429))
            ThreePointArc((55.430909741, -96.341100429), (51.698665801, -100.00865767), (50.329634754, -105.059041312))
            Line((50.329634754, -105.059041312), (50.329634754, -108.179131466))
            Line((50.329634754, -108.179131466), (60.893208182, -102.243321386))
            ThreePointArc((60.893208182, -102.243321386), (64.625452121, -98.575764145), (65.994483169, -93.525380502))
            Line((65.994483169, -93.525380502), (65.994483169, -90.405290348))
        make_face(mode=Mode.SUBTRACT)
    extrude(amount=BOSS_EXTRUDE2_DEPTH)


solid = part.part
